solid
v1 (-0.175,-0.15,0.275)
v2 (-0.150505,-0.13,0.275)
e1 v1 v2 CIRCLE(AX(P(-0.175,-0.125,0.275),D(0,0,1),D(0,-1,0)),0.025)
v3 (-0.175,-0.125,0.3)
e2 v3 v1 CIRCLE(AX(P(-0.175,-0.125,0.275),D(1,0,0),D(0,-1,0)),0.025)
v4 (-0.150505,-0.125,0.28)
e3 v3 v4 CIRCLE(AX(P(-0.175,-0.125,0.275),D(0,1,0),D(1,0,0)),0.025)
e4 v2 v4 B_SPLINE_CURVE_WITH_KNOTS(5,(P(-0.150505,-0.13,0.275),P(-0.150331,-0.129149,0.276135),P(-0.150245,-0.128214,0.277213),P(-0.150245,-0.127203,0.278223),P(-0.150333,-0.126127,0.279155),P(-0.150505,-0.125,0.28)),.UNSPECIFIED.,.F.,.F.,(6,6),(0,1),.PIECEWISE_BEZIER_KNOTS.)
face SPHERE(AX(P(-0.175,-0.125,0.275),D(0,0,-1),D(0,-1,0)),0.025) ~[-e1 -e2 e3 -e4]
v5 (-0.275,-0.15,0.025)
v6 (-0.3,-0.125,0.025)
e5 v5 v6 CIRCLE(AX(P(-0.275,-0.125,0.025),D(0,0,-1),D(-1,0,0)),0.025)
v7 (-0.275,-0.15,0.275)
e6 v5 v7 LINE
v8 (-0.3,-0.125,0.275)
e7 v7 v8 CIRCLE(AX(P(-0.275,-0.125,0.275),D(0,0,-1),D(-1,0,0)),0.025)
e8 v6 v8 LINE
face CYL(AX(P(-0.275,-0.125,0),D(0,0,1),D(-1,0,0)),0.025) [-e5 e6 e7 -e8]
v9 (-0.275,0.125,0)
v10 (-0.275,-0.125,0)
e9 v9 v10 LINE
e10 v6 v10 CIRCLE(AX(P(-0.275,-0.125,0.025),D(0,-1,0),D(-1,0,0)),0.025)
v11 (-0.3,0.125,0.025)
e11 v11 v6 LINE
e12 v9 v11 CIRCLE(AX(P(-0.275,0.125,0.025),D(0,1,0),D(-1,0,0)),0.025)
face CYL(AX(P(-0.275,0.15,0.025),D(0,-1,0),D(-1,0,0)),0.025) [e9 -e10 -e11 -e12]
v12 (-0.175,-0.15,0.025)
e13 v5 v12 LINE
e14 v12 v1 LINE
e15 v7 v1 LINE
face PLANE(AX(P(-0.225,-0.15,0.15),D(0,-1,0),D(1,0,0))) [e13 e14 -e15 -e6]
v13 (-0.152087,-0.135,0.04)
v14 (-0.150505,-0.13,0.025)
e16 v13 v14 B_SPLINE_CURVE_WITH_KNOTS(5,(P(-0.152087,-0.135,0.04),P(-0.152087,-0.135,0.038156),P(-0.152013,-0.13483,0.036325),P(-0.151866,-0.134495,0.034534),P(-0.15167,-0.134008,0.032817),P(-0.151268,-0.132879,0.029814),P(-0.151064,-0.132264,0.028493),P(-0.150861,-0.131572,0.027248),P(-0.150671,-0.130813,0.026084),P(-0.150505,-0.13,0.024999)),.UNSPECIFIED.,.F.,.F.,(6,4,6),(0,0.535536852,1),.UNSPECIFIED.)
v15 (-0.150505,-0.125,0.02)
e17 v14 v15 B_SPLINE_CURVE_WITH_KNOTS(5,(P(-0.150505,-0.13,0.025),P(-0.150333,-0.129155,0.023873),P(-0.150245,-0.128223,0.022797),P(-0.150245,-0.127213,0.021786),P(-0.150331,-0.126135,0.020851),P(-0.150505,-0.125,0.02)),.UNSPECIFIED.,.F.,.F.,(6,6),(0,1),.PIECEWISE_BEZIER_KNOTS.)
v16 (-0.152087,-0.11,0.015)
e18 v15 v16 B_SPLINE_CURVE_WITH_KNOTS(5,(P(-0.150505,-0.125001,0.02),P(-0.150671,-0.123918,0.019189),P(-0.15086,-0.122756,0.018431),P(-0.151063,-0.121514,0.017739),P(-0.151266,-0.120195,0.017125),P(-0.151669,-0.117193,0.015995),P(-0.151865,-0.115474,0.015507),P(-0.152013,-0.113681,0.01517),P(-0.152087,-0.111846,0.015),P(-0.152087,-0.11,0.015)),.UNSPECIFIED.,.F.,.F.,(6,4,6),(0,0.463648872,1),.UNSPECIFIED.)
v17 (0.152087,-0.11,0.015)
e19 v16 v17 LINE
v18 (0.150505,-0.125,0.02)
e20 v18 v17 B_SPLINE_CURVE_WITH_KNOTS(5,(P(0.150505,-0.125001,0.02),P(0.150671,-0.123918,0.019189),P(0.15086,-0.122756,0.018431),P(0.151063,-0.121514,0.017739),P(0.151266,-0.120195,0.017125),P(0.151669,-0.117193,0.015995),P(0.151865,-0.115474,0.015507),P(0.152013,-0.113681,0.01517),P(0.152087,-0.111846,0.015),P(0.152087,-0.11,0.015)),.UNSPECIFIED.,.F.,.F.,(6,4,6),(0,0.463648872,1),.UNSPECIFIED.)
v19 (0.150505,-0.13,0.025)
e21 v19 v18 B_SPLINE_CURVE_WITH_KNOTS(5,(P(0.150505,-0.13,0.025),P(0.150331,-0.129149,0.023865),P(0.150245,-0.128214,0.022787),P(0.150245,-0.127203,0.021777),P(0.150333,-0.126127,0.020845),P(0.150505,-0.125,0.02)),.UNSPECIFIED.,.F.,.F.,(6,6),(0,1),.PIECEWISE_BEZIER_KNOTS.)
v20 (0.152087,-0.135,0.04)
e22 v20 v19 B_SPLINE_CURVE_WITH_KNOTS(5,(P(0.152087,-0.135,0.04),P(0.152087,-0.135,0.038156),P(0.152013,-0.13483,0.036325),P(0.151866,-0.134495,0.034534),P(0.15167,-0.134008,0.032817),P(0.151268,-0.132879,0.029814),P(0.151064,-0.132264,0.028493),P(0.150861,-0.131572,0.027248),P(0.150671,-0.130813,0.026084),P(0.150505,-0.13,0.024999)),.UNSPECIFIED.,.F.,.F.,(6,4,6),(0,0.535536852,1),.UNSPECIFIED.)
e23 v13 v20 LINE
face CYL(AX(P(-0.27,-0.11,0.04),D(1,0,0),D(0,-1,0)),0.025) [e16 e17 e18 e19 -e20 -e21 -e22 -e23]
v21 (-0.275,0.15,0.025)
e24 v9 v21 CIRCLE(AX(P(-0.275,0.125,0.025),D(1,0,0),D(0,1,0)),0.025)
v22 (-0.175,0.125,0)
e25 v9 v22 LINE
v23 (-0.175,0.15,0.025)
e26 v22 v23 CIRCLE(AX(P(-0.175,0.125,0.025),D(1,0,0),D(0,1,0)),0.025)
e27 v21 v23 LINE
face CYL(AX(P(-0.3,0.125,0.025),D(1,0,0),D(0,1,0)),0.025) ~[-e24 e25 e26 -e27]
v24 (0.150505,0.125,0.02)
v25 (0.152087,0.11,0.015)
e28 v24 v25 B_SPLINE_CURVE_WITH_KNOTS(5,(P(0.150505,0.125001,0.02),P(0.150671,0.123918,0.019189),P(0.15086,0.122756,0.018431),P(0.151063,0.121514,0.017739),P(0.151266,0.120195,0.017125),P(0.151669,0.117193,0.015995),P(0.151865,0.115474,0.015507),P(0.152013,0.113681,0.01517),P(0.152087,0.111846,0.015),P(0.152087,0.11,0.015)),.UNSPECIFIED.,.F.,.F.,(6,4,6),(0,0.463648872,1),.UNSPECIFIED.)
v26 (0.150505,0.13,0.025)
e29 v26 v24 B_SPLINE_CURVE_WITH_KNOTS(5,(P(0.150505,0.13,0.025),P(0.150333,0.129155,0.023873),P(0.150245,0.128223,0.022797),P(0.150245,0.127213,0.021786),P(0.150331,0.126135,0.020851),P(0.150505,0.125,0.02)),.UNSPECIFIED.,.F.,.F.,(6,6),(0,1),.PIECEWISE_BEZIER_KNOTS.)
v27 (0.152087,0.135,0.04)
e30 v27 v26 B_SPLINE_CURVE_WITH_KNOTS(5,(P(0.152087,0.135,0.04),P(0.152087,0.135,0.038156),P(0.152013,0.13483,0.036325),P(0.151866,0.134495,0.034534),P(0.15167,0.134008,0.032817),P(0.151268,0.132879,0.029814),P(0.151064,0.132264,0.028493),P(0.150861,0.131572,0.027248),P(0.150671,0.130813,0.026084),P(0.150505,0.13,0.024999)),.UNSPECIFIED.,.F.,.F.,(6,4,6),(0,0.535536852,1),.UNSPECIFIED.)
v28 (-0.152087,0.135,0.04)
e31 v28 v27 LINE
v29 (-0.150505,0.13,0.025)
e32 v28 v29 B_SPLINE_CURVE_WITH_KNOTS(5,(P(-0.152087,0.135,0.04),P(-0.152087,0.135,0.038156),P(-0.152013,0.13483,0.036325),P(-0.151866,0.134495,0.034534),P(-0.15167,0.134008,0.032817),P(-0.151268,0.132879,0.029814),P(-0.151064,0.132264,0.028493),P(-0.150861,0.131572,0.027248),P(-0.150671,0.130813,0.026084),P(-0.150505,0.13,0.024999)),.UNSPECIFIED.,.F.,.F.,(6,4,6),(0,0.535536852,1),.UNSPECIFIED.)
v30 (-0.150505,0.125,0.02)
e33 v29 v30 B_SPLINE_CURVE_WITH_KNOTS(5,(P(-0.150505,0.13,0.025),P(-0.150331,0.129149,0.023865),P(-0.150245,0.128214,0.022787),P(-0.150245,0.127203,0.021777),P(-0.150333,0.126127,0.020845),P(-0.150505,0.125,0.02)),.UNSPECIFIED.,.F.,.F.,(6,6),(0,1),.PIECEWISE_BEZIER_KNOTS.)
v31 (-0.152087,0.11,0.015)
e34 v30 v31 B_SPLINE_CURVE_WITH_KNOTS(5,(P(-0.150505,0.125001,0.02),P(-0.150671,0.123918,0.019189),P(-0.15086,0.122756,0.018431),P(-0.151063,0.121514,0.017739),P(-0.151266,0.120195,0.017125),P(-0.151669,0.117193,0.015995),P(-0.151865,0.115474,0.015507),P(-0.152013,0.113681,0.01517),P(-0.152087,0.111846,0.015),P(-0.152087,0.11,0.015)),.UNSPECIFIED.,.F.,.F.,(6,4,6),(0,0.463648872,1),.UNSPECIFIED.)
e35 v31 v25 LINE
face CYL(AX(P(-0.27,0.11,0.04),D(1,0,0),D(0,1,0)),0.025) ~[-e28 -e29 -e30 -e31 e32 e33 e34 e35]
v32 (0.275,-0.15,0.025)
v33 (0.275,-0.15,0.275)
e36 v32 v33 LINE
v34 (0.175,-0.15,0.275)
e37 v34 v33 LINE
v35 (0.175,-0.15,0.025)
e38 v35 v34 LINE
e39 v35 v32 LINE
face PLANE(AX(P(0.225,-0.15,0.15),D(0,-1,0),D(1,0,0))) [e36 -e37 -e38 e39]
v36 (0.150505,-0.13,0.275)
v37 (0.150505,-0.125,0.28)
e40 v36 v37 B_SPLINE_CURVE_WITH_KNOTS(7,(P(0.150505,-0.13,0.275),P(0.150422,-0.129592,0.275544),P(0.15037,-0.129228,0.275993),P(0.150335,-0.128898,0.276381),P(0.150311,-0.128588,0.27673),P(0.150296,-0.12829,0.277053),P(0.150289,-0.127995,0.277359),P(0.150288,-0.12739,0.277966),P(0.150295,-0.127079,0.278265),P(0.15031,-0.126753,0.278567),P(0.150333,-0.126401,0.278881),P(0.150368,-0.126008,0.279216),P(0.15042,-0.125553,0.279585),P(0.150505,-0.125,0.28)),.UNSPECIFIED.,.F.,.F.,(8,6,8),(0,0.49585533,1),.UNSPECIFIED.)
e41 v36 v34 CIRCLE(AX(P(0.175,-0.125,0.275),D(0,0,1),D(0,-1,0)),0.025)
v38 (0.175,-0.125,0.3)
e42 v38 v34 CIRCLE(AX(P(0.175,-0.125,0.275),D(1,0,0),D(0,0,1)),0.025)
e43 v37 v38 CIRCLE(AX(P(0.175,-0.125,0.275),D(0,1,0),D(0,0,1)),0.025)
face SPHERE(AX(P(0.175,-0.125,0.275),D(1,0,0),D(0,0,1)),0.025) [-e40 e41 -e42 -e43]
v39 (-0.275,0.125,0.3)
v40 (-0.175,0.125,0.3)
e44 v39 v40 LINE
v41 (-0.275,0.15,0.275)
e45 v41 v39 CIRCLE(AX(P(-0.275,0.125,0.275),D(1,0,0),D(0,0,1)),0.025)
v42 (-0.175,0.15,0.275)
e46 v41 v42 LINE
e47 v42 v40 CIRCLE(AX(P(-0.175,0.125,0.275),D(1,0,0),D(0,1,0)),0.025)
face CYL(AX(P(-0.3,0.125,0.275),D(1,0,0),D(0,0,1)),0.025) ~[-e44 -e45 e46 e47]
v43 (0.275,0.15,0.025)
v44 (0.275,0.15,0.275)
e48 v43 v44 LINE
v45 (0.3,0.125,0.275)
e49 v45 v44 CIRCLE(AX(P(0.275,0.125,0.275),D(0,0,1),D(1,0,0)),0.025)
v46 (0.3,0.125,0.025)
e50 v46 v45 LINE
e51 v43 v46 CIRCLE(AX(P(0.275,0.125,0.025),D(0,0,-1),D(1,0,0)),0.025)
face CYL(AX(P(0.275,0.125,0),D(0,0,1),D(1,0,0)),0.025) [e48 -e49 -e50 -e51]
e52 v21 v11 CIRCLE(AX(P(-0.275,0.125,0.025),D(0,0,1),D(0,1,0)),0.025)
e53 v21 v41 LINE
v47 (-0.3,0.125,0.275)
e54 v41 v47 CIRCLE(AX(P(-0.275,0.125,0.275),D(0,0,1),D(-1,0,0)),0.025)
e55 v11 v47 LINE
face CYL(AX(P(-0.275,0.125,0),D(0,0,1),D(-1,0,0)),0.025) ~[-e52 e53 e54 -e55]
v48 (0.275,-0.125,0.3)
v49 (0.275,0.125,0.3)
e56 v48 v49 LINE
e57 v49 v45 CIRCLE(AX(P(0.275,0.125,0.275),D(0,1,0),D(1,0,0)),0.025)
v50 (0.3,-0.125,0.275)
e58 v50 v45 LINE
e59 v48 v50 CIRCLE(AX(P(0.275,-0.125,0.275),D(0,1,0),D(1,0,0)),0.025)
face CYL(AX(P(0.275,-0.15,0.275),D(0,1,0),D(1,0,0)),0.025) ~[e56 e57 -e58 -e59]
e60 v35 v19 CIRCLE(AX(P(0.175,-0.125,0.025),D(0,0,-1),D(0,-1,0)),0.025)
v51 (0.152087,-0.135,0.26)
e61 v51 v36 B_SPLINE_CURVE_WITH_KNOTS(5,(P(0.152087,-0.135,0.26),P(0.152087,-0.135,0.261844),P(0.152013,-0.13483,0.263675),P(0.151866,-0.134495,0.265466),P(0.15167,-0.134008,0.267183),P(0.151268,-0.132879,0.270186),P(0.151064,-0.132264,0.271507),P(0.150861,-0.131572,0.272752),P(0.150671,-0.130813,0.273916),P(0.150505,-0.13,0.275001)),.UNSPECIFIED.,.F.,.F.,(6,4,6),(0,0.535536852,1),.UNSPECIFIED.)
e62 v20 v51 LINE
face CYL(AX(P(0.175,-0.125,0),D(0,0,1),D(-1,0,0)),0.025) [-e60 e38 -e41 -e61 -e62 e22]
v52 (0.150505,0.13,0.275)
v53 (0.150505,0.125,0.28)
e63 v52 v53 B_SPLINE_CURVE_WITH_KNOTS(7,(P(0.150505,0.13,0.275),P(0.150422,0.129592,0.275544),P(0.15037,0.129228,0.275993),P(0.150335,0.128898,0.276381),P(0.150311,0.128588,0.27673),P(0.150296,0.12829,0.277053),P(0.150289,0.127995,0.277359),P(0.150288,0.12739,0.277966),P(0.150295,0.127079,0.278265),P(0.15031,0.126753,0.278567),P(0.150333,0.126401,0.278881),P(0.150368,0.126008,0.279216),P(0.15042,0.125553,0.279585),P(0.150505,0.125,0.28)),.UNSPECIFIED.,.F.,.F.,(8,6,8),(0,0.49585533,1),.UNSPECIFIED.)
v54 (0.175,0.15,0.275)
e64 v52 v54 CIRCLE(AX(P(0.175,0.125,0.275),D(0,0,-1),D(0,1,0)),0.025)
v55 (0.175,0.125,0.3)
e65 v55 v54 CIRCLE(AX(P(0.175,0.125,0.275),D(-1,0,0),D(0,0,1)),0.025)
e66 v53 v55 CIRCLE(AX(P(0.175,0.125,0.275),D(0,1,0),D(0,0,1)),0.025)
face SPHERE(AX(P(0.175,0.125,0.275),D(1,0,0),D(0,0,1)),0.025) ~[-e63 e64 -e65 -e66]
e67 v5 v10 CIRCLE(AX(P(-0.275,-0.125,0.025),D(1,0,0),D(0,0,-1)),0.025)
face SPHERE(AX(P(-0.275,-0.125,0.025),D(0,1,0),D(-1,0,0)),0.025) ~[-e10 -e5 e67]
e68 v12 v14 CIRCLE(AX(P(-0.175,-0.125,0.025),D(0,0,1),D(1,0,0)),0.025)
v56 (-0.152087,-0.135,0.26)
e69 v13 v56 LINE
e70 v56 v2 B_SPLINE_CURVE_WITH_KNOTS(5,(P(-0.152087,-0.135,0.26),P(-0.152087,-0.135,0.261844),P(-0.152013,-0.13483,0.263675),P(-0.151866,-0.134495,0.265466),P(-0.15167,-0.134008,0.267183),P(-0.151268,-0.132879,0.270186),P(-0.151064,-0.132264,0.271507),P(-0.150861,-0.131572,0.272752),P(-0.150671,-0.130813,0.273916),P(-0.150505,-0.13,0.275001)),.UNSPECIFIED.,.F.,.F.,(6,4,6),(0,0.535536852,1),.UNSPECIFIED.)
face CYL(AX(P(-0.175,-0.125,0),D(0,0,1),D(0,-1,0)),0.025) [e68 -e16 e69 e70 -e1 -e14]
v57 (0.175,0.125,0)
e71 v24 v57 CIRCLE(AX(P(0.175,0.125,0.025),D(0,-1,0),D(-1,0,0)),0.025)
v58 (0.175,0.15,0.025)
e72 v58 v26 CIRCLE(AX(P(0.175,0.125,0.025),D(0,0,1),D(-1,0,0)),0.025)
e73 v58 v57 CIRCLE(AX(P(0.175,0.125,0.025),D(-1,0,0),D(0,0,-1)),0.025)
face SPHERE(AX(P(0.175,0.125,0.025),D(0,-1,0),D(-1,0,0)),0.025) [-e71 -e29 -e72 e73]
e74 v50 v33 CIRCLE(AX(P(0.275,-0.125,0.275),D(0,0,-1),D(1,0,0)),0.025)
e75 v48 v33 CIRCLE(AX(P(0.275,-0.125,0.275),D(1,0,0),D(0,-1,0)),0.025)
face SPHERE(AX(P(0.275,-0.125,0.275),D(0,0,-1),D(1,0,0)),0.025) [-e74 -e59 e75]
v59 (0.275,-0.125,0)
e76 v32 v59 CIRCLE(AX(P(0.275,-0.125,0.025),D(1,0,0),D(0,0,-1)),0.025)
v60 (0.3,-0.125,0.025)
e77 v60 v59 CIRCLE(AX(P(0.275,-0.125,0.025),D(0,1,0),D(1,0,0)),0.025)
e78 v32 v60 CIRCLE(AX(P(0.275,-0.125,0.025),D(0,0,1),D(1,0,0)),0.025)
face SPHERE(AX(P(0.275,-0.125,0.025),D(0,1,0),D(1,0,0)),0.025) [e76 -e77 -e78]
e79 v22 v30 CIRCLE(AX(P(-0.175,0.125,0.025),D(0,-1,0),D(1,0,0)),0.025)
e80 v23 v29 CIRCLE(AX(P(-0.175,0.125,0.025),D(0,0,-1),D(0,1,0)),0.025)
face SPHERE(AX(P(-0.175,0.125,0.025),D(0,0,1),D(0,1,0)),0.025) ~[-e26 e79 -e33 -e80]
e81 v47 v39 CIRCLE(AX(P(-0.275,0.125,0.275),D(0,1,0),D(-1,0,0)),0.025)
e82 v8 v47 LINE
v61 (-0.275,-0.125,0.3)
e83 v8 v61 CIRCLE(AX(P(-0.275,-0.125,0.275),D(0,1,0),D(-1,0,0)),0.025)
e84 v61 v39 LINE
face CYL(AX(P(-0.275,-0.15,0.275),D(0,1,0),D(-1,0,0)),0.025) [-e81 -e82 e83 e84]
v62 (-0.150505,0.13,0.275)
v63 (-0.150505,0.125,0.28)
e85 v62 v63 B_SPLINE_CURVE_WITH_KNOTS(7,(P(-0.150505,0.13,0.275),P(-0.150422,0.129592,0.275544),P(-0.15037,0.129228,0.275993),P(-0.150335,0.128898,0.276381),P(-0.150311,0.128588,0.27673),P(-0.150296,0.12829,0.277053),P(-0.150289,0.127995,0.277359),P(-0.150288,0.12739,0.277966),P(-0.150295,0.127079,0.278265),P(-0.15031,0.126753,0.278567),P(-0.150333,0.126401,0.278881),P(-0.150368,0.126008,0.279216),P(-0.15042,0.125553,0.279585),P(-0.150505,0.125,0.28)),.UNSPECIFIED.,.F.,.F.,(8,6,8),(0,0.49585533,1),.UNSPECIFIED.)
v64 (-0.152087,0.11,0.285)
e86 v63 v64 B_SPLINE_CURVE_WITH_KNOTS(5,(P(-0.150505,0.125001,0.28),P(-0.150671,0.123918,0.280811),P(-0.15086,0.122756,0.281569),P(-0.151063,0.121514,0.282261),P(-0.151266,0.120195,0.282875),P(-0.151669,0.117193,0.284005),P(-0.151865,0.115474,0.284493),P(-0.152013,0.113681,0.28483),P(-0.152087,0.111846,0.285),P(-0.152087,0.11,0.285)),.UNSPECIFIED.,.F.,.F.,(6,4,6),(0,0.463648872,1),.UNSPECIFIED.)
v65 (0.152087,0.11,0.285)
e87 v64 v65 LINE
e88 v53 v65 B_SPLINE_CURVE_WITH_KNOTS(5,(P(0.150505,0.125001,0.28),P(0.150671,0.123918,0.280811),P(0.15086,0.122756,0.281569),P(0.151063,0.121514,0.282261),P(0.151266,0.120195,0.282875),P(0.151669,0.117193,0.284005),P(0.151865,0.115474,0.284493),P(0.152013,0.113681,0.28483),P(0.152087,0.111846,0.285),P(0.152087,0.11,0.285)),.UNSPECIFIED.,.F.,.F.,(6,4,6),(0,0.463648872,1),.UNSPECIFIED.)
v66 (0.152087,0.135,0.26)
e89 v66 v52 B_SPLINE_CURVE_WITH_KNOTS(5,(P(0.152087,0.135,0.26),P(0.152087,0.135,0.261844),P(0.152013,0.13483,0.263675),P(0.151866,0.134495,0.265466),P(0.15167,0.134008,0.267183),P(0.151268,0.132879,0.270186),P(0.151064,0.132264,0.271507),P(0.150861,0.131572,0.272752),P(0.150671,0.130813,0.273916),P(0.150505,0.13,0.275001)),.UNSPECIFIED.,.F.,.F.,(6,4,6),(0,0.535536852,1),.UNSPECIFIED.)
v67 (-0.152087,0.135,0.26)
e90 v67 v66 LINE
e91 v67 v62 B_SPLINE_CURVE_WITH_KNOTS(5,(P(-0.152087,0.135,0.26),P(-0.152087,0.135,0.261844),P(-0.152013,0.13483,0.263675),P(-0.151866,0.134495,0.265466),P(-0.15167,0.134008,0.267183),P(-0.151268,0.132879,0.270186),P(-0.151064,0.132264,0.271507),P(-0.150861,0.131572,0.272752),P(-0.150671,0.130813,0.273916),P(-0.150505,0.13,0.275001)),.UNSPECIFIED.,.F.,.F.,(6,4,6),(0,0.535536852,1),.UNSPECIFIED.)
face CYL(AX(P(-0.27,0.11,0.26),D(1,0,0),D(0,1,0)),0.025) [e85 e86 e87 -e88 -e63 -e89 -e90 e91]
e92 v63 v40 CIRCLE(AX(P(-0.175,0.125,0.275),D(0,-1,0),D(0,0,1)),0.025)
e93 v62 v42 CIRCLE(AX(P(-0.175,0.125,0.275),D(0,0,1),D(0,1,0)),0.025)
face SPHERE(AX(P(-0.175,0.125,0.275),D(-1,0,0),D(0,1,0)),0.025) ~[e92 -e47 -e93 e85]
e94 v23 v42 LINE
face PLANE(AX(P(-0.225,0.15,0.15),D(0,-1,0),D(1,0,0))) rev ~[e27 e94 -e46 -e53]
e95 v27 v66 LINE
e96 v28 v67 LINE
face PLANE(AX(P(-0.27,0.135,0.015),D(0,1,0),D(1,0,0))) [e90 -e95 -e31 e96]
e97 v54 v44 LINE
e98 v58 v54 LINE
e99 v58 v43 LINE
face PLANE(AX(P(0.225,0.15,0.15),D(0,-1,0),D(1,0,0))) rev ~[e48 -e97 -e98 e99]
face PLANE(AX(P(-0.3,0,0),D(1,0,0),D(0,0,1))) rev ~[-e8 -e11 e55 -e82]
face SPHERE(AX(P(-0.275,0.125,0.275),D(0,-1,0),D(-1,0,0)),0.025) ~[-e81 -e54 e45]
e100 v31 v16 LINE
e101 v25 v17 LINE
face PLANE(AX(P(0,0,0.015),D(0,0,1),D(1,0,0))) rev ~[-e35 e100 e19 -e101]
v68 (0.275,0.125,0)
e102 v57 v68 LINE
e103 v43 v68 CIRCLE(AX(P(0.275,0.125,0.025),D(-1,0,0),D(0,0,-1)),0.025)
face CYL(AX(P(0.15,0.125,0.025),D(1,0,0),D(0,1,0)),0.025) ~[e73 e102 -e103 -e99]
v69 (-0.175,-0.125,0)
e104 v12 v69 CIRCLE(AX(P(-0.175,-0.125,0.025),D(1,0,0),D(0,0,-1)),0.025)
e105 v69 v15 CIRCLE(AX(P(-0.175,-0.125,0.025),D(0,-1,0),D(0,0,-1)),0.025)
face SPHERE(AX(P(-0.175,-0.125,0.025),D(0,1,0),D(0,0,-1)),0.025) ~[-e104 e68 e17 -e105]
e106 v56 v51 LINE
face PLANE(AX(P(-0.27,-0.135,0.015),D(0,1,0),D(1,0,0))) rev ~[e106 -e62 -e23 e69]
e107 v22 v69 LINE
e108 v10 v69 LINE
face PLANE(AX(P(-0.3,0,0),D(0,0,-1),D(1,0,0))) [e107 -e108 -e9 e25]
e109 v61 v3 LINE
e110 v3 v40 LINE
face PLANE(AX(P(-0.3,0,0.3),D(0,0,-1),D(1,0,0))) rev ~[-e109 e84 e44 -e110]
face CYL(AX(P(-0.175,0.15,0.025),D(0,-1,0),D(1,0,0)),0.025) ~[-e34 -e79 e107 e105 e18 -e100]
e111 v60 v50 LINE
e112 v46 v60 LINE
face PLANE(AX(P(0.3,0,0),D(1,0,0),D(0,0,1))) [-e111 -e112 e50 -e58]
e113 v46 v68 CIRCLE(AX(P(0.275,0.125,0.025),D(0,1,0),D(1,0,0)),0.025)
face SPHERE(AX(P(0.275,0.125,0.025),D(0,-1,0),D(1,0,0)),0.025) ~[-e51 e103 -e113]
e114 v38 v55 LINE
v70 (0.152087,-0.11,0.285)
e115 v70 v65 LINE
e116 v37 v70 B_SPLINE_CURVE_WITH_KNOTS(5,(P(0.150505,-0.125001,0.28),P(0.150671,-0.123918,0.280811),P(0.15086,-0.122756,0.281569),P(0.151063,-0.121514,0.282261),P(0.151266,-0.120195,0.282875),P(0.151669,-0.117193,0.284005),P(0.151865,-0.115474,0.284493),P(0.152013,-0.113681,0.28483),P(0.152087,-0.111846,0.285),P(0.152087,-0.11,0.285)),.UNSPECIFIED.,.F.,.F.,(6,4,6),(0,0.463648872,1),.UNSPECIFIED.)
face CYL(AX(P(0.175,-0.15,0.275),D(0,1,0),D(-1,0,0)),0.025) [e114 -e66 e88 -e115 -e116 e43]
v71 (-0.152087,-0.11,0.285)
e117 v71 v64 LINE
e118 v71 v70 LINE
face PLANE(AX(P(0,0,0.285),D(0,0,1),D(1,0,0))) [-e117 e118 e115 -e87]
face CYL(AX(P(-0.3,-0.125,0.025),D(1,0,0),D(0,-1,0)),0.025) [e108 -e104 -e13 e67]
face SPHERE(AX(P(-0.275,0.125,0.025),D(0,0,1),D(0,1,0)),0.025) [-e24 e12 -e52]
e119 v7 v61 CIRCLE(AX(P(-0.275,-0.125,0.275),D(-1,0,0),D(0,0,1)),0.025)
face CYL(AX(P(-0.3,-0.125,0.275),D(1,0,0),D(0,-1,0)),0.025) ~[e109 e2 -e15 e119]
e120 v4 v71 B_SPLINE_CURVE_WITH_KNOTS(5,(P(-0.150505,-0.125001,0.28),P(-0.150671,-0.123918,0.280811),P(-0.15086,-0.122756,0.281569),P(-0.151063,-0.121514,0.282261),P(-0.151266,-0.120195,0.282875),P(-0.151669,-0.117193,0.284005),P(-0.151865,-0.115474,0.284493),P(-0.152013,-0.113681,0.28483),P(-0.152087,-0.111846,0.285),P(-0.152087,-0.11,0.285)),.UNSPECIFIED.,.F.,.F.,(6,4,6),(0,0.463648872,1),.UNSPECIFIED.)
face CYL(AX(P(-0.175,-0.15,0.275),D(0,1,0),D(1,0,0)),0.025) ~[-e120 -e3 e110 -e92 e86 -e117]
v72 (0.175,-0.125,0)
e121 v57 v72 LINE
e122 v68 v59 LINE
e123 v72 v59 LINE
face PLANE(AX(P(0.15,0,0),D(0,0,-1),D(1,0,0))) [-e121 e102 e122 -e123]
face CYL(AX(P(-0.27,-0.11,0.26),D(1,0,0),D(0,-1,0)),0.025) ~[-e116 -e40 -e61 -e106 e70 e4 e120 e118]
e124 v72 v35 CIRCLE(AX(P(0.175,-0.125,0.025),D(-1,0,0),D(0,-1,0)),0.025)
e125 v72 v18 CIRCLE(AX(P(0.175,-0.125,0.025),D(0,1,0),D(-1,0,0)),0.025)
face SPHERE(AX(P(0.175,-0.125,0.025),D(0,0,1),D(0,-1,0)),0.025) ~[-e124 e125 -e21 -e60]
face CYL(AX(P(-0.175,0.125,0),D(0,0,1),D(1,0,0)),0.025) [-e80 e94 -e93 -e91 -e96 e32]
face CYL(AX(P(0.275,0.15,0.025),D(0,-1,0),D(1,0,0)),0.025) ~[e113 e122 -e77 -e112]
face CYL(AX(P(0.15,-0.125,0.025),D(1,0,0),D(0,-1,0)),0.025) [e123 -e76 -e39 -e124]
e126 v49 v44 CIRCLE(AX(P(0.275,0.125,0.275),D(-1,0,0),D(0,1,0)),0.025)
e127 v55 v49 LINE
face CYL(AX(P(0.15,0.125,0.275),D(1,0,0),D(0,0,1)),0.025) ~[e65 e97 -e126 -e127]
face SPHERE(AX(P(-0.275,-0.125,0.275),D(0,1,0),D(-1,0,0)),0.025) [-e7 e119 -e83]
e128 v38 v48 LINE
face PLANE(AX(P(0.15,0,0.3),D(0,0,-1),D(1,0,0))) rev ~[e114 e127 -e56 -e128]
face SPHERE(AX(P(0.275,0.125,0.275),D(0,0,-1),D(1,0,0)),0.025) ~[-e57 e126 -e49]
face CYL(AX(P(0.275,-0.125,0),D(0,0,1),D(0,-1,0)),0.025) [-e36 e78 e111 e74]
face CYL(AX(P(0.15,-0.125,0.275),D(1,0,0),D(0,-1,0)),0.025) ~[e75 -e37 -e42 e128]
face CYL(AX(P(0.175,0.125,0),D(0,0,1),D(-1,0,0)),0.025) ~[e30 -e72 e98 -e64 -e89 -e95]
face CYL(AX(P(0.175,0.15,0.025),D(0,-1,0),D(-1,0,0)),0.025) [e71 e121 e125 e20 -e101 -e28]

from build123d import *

# Parameters (mm, degrees)
SKETCH_W     = 0.54
SKETCH_H     = 0.27
PAD_DEPTH    = 0.27
FILLET002_R  = 0.025
SKETCH001_W  = 0.15
SKETCH001_H  = 0.3
PAD001_DEPTH = 0.15
FILLET_R     = 0.025
SKETCH002_W  = 0.15
SKETCH002_H  = 0.3
PAD002_DEPTH = 0.15
FILLET001_R  = 0.025


with BuildPart() as body:
    # Sketch → Pad (new body)
    with BuildSketch(Plane.XY.offset(0.015)):
        Rectangle(SKETCH_W, SKETCH_H)
    extrude(amount=PAD_DEPTH)

    # Fillet002
    fillet002_edges = [body.edges().sort_by_distance(p)[0] for p in [
        (0, -0.135, 0.285),
        (0, 0.135, 0.285),
        (0, -0.135, 0.015),
        (0, 0.135, 0.015),
    ]]
    fillet(fillet002_edges, radius=FILLET002_R)


with BuildPart() as body001:
    # Sketch001 → Pad001 (new body, symmetric)
    with BuildSketch(Plane.XZ):
        with Locations((-0.225, 0.15)):
            Rectangle(SKETCH001_W, SKETCH001_H)
    extrude(amount=PAD001_DEPTH, both=True)

    # Fillet
    fillet_edges = [body001.edges().sort_by_distance(p)[0] for p in [
        (-0.3, 0, 0.3),
        (-0.3, 0.15, 0.15),
        (-0.225, 0.15, 0.3),
        (-0.15, 0.15, 0.15),
        (-0.225, 0.15, 0),
        (-0.15, 0, 0),
        (-0.3, 0, 0),
        (-0.3, -0.15, 0.15),
        (-0.225, -0.15, 0),
        (-0.15, -0.15, 0.15),
        (-0.225, -0.15, 0.3),
        (-0.15, 0, 0.3),
    ]]
    fillet(fillet_edges, radius=FILLET_R)


with BuildPart() as fusion:
    # Sketch002 → Pad002 (new body, symmetric)
    with BuildSketch(Plane.XZ):
        with Locations((0.225, 0.15)):
            Rectangle(SKETCH002_W, SKETCH002_H)
    extrude(amount=PAD002_DEPTH, both=True)

    # Fillet001
    fillet001_edges = [fusion.edges().sort_by_distance(p)[0] for p in [
        (0.3, 0, 0),
        (0.3, 0.15, 0.15),
        (0.3, -0.15, 0.15),
        (0.3, 0, 0.3),
        (0.225, -0.15, 0.3),
        (0.225, 0.15, 0.3),
        (0.15, 0, 0.3),
        (0.15, -0.15, 0.15),
        (0.225, -0.15, 0),
        (0.15, 0, 0),
        (0.15, 0.15, 0.15),
        (0.225, 0.15, 0),
    ]]
    fillet(fillet001_edges, radius=FILLET001_R)

    # Fusion: union Body, Body001
    add(body.part)
    add(body001.part)


solid = fusion.part
